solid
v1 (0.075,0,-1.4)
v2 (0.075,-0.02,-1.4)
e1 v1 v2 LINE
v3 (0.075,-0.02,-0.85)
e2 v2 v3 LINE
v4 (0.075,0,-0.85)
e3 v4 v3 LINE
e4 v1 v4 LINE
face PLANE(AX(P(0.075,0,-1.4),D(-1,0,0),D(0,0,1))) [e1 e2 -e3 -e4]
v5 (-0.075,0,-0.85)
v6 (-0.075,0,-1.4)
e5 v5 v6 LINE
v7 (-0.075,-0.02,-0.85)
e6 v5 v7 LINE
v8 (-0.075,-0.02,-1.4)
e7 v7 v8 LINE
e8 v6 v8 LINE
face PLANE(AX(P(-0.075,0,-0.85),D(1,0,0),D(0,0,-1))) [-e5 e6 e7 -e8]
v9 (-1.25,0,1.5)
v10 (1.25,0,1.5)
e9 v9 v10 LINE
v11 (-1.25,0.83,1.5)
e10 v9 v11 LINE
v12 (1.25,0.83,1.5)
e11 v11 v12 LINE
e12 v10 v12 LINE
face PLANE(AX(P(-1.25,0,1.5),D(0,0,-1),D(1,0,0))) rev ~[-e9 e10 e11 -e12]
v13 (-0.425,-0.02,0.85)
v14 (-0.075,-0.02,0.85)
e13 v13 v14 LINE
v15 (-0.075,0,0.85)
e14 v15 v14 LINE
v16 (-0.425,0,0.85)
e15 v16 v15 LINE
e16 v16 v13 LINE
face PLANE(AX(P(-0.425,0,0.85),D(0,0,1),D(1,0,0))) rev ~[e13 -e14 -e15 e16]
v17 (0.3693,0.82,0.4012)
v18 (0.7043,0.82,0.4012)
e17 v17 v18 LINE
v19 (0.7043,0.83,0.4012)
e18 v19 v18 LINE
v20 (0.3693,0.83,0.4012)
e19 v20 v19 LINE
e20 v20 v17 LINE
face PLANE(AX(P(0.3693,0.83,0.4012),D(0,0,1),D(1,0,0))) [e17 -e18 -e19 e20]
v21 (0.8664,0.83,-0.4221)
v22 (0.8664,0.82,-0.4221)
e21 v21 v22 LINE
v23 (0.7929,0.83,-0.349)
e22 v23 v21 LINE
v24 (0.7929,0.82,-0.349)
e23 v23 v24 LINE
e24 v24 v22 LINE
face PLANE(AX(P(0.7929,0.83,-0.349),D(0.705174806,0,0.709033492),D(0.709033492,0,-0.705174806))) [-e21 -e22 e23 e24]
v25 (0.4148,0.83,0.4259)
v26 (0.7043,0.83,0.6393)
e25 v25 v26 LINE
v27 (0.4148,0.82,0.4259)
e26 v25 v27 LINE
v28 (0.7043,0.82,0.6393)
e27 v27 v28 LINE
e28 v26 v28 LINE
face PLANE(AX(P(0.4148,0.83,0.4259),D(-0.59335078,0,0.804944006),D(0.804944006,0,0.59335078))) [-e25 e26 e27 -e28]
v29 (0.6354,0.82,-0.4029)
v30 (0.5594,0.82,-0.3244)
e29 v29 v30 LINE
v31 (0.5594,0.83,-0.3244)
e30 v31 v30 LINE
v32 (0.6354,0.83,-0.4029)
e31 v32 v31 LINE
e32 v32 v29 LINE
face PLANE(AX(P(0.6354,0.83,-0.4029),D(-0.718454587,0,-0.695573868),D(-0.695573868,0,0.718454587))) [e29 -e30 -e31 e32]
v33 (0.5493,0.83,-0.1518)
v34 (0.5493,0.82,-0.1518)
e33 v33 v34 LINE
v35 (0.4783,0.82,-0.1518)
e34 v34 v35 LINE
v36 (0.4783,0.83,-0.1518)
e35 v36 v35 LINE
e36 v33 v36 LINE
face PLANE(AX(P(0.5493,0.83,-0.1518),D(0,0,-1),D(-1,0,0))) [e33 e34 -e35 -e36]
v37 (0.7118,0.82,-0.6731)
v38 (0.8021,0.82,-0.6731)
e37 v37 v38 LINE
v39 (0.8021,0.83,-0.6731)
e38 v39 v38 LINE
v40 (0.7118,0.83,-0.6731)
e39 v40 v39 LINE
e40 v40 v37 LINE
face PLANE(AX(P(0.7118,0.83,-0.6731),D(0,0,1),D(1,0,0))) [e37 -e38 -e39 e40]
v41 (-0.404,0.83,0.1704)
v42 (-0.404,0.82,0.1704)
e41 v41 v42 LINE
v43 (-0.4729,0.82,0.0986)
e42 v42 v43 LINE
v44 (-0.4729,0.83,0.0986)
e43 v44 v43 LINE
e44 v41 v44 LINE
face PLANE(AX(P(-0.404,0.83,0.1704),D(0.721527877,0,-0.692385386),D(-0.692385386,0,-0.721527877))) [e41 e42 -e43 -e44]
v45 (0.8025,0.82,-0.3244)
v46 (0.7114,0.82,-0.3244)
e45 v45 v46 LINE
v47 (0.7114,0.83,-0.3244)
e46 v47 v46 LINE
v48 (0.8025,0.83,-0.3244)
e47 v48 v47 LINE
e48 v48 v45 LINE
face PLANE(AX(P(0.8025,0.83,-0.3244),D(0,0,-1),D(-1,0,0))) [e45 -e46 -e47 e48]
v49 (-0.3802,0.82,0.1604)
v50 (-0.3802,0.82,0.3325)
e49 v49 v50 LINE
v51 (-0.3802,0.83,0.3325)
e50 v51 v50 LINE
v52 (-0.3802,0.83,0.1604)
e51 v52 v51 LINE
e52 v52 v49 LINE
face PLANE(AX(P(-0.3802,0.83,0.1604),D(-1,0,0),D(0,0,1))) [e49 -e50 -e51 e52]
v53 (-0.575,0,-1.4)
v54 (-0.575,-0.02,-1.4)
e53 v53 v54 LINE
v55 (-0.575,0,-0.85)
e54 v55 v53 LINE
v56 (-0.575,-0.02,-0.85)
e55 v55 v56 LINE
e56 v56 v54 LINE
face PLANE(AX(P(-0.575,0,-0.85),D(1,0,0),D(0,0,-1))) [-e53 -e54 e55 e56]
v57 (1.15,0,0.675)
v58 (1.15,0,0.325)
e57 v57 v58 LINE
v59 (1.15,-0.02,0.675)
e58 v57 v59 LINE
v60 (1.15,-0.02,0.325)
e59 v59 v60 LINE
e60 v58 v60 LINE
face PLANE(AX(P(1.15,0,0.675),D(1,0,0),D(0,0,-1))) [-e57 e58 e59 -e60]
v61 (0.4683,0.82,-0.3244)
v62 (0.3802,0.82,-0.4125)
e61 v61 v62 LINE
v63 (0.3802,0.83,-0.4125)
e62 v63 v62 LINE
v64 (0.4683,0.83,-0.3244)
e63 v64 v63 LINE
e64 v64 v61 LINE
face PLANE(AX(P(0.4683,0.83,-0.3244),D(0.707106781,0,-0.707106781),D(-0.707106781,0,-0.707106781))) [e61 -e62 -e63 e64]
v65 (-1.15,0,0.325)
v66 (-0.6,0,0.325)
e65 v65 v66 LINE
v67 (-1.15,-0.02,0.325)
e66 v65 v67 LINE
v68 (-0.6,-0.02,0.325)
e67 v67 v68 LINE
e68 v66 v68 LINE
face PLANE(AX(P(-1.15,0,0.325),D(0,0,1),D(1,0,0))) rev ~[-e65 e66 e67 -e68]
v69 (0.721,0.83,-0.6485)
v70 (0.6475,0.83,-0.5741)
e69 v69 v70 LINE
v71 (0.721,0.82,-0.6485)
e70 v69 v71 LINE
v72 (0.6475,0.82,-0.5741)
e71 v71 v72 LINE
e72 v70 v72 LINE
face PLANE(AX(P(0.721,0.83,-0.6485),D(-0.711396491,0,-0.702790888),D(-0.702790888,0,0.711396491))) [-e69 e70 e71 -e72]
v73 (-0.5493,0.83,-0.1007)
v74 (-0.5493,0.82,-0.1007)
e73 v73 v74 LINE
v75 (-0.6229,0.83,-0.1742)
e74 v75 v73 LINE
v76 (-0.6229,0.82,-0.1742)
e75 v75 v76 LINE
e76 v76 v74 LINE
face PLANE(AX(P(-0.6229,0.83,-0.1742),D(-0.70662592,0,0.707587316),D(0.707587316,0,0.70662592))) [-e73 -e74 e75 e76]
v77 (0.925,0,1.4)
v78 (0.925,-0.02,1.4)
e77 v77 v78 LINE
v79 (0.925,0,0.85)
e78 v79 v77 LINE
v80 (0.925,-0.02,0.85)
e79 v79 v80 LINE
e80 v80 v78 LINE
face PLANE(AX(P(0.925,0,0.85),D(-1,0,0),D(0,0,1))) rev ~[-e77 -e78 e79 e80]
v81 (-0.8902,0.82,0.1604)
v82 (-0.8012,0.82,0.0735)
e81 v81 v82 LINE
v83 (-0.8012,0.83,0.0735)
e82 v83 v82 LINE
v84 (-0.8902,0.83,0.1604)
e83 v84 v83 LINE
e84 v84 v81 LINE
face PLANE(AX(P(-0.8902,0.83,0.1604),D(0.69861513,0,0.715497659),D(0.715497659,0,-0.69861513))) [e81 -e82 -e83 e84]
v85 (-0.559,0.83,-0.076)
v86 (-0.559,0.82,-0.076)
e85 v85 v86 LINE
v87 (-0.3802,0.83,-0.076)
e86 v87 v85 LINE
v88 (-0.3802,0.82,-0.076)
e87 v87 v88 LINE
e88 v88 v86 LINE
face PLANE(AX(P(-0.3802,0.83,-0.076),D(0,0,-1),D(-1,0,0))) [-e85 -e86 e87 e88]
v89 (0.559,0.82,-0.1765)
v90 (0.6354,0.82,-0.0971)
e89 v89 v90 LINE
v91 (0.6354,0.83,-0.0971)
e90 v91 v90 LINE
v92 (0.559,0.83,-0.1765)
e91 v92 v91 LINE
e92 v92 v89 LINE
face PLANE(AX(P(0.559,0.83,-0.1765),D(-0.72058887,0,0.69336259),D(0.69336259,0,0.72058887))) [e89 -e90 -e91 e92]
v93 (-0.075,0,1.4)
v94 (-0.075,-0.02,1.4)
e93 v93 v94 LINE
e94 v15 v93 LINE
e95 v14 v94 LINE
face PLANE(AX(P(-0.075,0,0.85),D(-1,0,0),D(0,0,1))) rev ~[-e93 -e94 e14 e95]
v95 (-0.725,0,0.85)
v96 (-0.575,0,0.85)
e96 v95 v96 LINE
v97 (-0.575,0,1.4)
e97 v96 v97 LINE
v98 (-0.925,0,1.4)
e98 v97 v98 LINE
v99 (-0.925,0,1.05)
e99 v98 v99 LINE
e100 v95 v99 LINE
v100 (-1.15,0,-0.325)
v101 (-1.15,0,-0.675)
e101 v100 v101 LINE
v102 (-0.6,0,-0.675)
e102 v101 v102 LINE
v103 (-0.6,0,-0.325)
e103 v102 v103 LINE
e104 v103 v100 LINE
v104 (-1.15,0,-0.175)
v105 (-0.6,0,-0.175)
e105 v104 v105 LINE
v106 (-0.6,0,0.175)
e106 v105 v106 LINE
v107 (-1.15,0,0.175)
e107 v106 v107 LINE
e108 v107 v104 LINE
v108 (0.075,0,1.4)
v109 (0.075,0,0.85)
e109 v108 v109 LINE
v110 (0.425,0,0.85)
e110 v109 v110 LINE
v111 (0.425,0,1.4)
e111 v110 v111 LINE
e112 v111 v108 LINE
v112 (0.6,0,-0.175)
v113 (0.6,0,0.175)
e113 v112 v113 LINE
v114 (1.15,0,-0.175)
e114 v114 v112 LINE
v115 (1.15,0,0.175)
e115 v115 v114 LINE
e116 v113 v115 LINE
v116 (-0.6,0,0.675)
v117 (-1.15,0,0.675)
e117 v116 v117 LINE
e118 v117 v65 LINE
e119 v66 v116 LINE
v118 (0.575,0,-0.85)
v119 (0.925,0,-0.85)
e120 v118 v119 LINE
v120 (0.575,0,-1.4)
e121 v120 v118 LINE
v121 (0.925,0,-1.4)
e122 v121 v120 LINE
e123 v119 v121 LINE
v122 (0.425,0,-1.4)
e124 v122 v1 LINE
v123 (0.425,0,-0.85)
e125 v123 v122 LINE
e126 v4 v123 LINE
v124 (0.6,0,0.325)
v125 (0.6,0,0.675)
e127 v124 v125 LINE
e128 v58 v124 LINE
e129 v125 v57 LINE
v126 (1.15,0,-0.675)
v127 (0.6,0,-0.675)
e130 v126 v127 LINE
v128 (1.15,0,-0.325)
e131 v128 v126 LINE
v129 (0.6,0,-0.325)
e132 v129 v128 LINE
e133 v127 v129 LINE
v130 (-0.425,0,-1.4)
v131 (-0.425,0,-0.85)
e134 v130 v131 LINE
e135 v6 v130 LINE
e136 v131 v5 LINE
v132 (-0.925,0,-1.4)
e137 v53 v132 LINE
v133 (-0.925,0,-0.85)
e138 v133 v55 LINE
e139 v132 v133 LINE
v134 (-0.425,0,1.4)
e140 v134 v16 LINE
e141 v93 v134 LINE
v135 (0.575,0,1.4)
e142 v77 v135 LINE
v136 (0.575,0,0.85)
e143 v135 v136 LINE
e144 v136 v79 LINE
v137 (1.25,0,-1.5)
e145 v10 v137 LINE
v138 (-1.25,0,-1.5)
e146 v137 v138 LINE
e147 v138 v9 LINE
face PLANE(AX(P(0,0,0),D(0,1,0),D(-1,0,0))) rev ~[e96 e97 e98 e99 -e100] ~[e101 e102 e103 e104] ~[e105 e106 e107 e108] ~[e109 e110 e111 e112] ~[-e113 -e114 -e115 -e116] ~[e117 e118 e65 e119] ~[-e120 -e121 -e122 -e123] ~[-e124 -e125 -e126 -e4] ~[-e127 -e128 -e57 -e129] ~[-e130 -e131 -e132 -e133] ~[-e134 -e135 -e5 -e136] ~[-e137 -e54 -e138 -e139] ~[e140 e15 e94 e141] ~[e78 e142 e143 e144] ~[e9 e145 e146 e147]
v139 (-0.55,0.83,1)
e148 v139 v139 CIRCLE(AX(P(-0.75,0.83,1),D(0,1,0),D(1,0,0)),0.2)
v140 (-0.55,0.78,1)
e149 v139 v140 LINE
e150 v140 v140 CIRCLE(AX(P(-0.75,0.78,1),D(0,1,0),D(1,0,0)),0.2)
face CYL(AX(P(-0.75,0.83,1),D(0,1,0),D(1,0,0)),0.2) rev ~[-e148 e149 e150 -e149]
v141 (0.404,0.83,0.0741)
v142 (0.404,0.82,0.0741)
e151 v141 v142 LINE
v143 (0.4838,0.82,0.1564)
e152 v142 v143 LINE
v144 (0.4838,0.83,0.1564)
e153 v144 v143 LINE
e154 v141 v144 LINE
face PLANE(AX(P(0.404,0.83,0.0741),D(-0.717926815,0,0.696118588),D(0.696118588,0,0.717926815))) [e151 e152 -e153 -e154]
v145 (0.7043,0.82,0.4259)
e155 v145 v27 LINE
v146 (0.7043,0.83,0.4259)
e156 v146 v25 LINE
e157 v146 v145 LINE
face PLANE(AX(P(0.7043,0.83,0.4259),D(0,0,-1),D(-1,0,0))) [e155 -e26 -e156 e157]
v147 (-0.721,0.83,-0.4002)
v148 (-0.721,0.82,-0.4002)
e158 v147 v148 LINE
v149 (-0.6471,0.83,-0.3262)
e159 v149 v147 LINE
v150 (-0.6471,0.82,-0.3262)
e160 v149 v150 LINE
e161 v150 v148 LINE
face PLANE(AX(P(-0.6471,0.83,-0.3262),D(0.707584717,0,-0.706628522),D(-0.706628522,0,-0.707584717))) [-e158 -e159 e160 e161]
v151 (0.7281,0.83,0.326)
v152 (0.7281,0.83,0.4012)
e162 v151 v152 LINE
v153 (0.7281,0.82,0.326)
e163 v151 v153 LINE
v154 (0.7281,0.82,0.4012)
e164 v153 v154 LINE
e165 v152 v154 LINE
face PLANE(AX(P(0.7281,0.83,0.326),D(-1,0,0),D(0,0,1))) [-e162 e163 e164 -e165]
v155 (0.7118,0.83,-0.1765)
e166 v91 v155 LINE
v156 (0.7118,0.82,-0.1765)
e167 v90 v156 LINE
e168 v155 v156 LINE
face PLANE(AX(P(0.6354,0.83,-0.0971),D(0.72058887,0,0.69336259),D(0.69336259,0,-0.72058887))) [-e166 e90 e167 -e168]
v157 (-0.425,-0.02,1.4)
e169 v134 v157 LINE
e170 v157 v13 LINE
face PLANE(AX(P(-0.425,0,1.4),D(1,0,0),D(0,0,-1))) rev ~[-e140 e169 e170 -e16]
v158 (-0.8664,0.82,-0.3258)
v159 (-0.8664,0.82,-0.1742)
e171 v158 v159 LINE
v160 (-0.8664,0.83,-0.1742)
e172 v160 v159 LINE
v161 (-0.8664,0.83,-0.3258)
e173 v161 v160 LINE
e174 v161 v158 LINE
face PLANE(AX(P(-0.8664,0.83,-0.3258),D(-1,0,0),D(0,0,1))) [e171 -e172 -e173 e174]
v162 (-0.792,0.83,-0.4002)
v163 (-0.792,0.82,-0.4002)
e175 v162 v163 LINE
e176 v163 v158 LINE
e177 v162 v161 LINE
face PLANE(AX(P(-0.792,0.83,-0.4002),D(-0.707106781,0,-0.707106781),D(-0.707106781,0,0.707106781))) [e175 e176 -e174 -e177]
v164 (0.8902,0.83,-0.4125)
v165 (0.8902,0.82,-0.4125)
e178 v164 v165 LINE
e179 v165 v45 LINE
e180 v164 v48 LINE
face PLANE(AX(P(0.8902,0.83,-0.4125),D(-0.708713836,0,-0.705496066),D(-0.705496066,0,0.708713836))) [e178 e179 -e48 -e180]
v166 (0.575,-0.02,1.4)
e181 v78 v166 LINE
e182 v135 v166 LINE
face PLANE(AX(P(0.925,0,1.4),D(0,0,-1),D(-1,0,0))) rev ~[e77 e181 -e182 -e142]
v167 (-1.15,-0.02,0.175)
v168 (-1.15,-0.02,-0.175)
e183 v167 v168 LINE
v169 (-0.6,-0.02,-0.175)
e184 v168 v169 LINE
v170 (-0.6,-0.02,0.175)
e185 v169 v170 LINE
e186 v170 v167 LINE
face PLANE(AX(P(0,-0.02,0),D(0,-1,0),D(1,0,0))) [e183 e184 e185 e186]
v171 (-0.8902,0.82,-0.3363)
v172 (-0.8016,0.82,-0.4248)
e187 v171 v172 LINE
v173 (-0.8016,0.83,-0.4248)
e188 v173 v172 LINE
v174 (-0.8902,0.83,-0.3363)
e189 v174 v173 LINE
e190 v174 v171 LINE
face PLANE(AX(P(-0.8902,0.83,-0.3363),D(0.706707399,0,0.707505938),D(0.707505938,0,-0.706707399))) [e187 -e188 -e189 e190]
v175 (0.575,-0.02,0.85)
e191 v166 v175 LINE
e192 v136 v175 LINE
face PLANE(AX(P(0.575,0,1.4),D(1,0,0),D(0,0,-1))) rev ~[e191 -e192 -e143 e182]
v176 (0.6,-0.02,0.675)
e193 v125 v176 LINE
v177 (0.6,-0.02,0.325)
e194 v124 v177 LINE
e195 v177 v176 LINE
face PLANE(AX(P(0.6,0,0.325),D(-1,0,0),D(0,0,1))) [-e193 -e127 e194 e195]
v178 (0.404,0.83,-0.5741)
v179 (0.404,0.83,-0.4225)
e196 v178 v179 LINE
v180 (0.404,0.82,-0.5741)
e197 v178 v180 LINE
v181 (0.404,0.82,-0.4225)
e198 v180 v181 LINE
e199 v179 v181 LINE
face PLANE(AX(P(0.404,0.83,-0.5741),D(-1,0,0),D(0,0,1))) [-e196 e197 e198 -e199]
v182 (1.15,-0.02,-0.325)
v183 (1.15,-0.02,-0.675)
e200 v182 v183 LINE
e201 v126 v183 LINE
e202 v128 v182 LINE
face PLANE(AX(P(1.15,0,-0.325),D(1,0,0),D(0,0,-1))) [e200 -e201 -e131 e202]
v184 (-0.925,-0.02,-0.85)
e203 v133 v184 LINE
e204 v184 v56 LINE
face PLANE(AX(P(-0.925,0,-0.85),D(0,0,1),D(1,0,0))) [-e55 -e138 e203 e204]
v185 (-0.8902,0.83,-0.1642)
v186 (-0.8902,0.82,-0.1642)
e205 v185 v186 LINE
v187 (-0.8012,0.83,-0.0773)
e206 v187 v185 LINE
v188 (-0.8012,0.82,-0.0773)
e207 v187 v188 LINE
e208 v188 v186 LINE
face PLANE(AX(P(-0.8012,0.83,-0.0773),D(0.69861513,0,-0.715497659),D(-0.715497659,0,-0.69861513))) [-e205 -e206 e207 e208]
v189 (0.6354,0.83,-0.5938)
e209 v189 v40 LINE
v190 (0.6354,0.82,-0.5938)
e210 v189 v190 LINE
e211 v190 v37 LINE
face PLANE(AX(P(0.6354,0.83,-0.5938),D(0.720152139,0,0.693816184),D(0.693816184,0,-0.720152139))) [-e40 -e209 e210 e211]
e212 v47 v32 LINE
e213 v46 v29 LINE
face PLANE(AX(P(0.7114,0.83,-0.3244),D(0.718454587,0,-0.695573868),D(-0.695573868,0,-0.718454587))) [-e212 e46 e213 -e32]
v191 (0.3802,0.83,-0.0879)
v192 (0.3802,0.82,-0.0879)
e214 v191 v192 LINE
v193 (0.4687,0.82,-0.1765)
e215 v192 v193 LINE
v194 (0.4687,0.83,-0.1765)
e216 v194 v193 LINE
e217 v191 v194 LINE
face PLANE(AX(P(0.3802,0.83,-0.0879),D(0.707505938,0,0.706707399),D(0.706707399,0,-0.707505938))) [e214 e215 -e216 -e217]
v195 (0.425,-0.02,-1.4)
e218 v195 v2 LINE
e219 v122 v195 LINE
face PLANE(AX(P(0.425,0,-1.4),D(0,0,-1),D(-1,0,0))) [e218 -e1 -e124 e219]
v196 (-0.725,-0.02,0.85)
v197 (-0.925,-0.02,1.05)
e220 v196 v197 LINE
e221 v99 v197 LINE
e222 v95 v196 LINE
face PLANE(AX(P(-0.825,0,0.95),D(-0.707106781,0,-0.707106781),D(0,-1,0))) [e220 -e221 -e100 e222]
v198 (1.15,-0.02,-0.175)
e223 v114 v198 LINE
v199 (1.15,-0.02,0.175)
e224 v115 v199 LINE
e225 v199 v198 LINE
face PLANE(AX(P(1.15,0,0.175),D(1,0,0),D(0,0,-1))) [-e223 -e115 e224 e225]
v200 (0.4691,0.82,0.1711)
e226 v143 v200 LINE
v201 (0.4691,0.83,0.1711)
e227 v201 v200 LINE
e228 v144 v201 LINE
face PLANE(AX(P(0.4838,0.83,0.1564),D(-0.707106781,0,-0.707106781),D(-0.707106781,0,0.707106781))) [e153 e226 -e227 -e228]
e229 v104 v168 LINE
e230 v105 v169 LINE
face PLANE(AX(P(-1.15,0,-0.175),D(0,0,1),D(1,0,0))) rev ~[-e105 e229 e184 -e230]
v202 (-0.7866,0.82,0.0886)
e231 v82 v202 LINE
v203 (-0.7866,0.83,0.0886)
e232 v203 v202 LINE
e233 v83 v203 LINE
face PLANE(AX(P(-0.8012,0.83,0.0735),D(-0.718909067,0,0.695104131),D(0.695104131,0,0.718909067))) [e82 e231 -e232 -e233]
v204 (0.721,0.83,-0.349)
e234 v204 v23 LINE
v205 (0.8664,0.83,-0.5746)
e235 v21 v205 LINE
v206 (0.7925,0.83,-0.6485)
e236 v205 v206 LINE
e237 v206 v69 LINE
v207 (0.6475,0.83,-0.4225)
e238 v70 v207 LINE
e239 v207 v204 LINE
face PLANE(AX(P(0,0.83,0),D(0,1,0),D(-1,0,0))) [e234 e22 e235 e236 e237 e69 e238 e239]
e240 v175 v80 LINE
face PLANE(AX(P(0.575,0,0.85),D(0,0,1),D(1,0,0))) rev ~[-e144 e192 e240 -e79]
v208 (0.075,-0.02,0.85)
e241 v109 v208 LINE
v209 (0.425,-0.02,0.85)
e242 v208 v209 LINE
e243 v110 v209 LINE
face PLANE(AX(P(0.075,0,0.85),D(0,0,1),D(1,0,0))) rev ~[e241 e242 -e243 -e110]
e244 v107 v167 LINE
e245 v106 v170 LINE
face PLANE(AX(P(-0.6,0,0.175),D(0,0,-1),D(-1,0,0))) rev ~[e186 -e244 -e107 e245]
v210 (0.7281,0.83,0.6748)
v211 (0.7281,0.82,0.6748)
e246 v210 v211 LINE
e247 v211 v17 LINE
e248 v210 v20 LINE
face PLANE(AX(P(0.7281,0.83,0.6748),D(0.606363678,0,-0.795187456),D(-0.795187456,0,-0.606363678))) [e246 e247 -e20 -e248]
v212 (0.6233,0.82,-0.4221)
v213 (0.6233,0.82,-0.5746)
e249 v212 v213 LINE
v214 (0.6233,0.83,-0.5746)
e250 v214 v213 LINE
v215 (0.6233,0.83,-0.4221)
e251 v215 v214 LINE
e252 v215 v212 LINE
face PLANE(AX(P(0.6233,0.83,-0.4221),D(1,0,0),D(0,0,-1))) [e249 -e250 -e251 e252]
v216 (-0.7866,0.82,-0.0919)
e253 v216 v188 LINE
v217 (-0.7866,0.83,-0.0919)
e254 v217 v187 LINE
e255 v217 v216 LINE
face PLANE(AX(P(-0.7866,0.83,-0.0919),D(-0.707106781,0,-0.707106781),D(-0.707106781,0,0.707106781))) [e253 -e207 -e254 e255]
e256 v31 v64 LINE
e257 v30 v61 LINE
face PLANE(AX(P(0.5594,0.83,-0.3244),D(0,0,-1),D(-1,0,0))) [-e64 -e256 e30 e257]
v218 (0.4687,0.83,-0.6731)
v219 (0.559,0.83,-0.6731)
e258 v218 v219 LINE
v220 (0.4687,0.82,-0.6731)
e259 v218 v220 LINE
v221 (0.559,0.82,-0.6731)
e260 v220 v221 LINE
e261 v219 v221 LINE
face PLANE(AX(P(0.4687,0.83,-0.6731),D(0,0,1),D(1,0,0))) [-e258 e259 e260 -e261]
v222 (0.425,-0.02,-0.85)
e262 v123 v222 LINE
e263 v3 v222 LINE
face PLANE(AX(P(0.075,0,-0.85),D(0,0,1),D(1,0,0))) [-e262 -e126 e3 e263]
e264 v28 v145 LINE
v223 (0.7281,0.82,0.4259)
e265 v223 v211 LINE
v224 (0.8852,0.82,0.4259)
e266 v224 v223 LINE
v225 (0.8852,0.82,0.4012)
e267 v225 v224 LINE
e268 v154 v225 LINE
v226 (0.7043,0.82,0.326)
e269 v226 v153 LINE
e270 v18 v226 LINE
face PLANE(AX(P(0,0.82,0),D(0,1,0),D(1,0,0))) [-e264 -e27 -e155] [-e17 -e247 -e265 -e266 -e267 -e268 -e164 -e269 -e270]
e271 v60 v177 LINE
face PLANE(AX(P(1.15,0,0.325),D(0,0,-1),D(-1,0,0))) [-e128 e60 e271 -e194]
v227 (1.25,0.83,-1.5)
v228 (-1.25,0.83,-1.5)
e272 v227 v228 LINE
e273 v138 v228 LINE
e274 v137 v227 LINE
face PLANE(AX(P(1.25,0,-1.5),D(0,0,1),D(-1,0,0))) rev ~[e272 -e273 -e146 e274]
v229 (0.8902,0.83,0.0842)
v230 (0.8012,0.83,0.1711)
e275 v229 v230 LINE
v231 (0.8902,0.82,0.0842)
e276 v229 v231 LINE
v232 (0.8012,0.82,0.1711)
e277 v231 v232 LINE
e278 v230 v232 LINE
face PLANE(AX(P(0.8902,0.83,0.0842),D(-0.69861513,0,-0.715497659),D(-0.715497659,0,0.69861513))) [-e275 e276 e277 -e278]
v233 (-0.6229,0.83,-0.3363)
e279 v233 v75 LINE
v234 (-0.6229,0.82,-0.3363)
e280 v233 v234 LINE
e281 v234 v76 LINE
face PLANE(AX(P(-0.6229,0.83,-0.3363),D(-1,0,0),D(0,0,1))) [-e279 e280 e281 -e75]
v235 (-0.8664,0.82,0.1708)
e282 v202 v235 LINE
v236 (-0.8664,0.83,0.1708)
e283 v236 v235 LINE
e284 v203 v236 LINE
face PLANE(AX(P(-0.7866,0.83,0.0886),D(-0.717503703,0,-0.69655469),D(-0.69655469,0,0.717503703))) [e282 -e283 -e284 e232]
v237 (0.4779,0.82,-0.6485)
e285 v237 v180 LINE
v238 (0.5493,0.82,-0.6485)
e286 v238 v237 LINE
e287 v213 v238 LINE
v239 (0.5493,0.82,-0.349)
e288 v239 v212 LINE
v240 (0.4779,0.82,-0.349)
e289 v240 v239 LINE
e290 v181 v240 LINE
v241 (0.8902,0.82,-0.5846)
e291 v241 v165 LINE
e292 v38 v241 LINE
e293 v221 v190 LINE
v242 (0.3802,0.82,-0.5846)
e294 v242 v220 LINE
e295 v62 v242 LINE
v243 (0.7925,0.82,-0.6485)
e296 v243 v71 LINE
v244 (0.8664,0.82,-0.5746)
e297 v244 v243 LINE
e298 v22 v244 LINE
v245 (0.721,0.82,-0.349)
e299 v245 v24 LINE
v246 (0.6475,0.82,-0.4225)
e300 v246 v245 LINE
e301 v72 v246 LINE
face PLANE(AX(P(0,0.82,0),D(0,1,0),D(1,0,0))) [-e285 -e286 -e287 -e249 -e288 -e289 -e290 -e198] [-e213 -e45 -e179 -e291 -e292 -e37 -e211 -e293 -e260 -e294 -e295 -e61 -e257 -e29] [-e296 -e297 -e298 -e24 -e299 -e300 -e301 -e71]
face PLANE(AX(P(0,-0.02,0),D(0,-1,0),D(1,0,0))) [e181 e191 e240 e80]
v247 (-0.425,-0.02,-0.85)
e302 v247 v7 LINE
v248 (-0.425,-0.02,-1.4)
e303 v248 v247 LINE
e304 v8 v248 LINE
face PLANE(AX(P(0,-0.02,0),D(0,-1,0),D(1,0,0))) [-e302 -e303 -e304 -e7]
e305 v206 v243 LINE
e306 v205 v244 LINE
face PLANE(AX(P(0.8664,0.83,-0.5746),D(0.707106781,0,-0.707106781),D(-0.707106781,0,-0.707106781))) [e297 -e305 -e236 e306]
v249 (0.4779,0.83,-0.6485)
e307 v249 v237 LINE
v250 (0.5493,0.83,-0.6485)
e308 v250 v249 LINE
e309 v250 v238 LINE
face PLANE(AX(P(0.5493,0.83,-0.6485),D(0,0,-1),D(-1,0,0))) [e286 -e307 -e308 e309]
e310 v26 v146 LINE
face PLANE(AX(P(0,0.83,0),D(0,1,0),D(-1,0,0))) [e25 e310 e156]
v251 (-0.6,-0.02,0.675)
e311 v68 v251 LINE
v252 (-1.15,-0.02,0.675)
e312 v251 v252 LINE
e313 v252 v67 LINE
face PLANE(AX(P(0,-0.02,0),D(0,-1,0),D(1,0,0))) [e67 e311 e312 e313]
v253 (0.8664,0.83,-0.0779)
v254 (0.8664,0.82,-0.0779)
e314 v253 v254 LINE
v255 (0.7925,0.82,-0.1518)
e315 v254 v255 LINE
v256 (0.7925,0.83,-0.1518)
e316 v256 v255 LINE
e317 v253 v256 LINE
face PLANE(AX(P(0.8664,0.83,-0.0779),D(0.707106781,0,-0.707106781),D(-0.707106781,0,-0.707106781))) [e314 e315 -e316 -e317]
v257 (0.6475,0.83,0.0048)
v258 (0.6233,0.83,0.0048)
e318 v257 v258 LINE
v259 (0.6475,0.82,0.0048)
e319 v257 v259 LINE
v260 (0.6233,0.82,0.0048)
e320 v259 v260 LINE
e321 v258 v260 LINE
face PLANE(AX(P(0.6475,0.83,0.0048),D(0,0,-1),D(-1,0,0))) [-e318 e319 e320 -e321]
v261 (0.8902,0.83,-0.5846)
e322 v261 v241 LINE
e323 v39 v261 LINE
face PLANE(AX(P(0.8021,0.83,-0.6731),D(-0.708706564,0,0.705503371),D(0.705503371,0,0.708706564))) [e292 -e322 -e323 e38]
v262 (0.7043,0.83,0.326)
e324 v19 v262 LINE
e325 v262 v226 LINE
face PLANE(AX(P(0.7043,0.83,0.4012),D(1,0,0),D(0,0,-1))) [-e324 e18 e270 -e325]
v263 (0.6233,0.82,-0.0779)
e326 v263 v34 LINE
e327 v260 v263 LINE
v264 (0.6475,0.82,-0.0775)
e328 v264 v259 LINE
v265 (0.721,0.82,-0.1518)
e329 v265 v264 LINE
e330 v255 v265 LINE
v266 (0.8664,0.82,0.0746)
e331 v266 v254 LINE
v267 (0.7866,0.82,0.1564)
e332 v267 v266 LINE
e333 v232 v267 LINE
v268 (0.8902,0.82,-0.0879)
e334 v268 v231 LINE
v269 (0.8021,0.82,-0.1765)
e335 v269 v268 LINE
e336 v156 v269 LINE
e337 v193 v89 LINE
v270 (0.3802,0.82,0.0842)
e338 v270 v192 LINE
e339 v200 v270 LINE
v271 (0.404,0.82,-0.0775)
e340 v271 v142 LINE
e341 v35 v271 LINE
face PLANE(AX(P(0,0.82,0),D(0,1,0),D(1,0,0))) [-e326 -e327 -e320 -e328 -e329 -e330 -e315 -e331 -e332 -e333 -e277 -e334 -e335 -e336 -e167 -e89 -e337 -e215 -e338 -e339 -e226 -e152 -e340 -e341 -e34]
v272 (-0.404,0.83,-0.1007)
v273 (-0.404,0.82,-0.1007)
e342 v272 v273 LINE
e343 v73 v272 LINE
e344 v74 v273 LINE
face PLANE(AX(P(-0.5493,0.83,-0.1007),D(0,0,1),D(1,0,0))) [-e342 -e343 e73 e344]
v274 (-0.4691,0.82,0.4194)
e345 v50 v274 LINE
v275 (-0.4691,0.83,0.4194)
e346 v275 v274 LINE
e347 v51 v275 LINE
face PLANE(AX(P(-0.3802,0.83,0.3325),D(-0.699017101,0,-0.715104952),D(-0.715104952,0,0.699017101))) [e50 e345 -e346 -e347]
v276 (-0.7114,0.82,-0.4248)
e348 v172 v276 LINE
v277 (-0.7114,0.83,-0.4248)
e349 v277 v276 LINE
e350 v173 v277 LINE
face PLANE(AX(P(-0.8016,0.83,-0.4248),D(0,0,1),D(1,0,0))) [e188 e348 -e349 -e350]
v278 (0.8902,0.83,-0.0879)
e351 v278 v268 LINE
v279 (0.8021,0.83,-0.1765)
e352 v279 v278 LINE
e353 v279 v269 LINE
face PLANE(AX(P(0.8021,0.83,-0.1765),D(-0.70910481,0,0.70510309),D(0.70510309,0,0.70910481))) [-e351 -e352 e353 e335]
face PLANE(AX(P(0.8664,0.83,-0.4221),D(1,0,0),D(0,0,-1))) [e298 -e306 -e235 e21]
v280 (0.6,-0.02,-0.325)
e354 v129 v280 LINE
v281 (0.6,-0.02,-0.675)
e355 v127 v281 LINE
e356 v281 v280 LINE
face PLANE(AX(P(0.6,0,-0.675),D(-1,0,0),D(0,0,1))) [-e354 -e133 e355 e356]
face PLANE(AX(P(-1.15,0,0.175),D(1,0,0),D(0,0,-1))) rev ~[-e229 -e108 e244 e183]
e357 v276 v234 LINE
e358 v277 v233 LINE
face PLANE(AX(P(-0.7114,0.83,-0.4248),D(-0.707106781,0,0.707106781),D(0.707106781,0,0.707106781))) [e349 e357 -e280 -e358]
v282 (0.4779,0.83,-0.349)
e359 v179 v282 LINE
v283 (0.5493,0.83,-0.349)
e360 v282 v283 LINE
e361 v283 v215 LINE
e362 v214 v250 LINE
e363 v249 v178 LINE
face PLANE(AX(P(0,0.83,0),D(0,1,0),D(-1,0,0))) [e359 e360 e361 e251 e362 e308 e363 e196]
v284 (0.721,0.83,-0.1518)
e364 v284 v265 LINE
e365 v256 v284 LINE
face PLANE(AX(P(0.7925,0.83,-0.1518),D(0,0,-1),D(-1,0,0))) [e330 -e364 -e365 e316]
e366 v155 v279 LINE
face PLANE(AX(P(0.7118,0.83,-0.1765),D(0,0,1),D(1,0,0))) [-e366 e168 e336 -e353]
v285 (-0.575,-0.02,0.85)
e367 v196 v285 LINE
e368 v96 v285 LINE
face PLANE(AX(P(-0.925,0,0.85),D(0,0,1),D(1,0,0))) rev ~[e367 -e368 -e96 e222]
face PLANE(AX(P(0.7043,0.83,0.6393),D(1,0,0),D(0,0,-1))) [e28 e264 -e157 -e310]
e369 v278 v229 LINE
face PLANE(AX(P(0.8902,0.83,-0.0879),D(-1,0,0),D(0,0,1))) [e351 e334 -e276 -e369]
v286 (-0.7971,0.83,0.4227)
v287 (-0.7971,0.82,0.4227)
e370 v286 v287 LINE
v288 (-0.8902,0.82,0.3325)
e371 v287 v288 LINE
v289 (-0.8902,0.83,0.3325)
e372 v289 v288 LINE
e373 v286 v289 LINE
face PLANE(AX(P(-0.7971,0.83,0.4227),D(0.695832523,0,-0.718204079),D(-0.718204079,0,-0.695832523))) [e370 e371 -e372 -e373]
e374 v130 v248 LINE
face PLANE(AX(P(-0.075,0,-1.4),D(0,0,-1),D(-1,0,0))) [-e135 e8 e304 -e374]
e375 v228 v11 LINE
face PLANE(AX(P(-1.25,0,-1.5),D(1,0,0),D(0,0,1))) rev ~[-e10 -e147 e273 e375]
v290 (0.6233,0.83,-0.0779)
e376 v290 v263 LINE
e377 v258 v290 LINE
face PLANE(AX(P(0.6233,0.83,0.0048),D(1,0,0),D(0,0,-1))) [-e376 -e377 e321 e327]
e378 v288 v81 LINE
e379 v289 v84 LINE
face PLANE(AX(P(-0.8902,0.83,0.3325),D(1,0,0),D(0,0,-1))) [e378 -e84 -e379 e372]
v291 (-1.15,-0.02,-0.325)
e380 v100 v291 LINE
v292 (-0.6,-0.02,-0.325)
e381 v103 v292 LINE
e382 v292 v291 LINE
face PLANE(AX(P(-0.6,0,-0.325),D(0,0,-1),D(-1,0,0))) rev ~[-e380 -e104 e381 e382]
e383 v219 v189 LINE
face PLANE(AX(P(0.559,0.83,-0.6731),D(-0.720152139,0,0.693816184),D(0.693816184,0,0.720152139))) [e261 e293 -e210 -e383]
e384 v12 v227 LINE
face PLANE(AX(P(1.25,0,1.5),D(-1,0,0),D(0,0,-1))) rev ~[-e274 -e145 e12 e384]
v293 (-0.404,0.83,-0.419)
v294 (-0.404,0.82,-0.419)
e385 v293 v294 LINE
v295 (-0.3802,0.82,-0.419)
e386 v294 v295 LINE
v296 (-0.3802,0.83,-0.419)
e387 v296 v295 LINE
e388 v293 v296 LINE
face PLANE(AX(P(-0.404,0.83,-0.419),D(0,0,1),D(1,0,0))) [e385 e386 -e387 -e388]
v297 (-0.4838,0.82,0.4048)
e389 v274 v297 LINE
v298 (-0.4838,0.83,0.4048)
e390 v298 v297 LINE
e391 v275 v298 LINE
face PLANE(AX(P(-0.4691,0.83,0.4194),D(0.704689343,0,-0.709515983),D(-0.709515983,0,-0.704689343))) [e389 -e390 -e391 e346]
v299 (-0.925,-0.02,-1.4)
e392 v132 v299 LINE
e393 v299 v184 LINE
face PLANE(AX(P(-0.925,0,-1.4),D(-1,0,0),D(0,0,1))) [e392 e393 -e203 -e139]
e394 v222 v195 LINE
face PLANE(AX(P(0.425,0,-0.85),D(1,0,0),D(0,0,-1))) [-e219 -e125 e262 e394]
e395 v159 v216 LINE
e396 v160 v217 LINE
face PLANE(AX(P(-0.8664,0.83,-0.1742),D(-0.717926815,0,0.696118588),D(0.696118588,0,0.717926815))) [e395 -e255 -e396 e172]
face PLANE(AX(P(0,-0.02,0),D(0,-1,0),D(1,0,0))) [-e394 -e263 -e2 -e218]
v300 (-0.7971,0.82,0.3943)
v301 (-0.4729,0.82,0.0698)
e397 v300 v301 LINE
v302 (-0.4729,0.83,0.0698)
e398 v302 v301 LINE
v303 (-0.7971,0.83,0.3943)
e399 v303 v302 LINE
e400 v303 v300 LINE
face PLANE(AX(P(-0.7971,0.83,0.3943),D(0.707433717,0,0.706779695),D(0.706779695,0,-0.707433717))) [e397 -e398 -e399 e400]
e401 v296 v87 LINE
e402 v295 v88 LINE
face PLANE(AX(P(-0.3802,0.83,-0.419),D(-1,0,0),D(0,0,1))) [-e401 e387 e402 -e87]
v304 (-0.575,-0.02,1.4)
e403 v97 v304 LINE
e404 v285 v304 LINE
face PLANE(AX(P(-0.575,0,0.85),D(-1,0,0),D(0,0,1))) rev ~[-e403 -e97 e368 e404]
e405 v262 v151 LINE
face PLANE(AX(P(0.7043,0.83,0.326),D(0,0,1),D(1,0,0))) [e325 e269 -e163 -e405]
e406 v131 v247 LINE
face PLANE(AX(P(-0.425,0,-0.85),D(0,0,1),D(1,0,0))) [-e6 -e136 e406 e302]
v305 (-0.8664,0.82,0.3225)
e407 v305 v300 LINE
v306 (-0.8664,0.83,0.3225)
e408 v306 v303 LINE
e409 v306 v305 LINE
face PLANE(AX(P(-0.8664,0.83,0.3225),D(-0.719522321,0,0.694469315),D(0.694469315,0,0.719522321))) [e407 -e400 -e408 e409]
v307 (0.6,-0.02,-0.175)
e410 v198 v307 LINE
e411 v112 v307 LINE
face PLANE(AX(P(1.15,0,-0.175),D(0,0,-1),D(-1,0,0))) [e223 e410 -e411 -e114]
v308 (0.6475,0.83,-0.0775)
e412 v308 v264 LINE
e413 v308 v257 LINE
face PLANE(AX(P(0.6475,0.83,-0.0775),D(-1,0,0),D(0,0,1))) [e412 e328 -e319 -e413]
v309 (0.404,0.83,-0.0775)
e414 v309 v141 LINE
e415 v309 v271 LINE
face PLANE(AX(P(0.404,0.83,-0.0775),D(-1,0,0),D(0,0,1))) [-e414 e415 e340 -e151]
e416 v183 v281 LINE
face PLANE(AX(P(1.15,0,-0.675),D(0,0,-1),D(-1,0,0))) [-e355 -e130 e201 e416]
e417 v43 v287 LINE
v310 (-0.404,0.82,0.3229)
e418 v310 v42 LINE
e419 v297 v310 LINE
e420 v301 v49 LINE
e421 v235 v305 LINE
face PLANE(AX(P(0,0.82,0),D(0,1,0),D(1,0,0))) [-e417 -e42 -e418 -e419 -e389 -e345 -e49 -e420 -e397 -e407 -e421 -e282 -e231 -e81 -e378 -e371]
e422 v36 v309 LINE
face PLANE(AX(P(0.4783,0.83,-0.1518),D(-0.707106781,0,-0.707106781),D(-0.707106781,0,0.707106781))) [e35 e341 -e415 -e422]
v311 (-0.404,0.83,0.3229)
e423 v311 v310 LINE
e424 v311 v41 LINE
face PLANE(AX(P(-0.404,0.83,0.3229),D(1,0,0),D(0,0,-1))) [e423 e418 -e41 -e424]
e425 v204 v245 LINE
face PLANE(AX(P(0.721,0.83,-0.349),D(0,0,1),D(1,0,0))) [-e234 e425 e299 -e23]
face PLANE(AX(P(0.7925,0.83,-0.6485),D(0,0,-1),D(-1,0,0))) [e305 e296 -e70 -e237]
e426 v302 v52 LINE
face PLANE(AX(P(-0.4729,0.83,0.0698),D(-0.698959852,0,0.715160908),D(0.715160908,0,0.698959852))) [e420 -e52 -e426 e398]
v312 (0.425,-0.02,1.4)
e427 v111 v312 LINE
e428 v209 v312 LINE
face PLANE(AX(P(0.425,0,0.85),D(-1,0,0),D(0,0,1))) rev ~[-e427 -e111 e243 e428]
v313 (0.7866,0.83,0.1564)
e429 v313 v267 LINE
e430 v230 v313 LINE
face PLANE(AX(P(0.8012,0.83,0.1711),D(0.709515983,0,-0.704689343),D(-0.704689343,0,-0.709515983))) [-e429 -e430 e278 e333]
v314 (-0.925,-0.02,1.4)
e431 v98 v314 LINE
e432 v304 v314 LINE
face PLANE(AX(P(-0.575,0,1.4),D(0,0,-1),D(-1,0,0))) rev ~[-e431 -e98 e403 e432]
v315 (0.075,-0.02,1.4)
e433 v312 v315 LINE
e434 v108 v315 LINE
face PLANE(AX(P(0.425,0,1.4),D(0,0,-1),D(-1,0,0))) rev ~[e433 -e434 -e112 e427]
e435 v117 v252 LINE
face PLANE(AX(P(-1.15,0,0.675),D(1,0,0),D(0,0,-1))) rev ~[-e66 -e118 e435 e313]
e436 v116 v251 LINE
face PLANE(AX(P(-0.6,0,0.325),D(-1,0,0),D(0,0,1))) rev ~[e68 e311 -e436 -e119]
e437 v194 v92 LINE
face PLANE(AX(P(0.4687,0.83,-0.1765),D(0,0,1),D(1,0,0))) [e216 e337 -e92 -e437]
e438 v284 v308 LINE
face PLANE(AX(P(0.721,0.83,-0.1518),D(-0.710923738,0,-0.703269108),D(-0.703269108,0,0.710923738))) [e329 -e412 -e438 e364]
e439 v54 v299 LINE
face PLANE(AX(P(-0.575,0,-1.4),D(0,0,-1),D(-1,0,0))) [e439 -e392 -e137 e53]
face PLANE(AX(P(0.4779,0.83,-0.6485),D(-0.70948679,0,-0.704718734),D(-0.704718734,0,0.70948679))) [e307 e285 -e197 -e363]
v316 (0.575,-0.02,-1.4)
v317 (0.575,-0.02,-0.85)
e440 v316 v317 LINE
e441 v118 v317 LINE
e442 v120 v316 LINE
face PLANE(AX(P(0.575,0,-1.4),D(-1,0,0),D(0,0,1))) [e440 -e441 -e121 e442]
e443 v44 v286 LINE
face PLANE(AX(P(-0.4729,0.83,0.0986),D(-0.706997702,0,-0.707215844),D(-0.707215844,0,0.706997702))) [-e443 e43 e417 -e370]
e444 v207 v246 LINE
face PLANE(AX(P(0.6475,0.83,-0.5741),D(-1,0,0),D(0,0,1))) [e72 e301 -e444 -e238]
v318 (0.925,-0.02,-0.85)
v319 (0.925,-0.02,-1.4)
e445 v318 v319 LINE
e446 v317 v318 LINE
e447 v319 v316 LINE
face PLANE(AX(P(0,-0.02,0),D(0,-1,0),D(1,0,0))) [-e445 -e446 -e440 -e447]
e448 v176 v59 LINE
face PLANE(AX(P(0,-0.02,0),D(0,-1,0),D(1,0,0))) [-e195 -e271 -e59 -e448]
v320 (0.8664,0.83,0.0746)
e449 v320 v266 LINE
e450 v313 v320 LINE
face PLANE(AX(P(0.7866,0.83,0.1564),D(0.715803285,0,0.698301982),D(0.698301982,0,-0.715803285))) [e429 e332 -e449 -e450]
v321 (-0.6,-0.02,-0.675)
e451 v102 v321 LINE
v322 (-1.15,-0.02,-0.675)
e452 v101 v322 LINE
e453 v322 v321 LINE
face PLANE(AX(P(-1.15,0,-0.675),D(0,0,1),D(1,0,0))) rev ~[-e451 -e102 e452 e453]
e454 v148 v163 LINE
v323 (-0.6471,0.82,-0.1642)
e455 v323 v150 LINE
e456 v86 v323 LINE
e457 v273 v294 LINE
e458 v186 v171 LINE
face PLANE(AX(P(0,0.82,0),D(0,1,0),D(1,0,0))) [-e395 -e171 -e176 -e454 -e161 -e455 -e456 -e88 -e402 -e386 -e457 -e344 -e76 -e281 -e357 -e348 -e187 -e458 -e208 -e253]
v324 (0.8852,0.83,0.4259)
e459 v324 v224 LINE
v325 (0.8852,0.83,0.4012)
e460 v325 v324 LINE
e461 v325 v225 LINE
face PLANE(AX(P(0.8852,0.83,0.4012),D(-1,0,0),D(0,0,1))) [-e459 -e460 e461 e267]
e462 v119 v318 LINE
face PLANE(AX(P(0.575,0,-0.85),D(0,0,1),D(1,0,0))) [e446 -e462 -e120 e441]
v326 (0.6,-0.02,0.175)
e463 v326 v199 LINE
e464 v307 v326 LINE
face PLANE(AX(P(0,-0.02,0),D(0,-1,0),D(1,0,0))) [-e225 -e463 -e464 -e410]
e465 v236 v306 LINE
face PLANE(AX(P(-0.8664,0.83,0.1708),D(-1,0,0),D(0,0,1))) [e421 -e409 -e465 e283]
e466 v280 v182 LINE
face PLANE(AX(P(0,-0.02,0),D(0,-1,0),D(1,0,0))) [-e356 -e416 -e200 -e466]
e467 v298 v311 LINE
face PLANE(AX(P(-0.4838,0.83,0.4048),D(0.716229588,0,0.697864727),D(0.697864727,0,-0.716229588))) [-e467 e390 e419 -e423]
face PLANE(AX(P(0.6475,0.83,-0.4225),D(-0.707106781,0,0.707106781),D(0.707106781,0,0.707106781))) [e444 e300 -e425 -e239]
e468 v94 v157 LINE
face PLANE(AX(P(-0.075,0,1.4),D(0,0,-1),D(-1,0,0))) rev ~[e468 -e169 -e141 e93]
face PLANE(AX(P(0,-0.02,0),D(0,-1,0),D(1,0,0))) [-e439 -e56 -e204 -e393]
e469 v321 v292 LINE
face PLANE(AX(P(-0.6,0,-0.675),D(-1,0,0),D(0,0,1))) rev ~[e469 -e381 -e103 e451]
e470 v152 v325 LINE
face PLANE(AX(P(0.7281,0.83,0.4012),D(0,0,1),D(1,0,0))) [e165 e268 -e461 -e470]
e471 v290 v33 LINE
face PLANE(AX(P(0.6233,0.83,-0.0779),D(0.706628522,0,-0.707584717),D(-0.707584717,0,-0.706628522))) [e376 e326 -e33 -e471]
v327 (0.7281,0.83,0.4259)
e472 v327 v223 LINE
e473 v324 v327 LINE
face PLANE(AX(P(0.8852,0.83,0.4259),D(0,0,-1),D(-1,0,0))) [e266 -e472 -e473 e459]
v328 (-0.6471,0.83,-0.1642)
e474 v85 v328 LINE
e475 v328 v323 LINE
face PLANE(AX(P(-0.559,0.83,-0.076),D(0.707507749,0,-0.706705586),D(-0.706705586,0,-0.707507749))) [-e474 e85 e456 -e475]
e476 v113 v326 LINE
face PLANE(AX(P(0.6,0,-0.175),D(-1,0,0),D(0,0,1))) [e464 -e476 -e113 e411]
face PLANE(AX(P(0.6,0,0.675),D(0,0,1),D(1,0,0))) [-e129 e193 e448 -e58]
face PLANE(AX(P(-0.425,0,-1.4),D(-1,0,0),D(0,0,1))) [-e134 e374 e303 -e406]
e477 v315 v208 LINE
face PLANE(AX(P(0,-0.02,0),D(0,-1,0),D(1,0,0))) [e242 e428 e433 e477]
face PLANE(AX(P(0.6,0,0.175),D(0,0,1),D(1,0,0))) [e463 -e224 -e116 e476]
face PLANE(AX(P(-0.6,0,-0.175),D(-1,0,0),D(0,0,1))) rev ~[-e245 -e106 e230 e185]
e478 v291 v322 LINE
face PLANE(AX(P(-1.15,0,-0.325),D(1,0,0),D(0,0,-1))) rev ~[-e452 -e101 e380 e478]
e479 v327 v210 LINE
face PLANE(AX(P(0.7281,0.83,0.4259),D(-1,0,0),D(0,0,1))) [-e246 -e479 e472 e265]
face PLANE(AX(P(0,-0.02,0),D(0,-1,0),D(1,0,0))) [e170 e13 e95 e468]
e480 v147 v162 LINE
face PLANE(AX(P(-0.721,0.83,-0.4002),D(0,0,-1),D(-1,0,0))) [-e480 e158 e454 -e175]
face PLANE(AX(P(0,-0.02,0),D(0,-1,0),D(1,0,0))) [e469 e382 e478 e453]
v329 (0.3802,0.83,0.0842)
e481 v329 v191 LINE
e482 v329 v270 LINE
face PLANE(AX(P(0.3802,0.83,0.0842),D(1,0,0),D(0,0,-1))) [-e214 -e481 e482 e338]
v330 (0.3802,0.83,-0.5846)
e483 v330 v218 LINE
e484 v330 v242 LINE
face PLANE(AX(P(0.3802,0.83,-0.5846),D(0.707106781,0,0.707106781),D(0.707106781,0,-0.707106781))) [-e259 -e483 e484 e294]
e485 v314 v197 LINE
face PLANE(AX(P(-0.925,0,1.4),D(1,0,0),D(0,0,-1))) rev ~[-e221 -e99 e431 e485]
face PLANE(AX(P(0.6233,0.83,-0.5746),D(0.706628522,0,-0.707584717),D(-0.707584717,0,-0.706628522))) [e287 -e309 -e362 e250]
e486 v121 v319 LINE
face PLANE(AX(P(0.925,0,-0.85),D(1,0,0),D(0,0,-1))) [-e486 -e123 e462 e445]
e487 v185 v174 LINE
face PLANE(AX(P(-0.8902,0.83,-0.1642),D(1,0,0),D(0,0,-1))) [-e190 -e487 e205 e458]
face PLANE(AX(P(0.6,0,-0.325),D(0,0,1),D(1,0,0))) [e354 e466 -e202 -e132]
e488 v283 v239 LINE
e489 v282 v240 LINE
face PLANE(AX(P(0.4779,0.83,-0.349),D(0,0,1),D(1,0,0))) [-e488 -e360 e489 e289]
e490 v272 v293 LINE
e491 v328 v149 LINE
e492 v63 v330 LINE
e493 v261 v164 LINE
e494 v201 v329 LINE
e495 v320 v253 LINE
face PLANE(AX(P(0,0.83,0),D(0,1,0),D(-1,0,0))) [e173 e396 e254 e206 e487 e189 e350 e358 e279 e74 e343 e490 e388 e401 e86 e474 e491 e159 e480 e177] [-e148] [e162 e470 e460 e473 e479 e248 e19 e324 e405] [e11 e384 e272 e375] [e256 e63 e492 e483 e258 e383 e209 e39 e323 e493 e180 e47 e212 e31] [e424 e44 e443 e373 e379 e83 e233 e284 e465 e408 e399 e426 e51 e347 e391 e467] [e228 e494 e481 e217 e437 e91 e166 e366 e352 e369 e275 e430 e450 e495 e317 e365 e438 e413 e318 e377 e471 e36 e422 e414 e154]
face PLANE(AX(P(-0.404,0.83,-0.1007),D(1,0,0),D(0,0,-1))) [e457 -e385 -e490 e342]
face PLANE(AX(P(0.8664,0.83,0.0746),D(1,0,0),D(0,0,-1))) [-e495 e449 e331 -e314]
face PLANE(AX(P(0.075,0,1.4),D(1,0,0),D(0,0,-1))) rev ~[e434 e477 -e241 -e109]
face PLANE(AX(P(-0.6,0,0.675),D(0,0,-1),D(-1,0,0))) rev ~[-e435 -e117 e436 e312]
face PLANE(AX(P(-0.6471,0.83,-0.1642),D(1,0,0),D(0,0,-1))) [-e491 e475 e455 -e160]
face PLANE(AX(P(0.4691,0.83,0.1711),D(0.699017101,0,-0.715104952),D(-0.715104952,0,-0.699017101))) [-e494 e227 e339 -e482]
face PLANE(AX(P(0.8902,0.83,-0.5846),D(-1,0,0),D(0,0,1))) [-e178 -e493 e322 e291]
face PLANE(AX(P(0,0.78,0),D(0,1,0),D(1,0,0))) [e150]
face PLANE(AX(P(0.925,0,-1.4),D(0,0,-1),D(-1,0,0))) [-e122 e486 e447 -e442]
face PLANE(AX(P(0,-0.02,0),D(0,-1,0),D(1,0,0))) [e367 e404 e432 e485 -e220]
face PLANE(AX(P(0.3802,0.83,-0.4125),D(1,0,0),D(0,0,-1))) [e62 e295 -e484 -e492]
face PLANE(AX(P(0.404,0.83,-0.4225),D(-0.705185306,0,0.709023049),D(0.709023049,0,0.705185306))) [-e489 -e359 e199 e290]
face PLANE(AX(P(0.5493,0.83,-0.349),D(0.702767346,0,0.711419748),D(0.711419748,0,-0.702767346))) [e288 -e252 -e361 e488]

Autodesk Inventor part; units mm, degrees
ref_plane "YZ Plane" through (0, 0, 0) normal (1, 0, 0) x (0, 1, 0)
ref_plane "XZ Plane" through (0, 0, 0) normal (0, 1, 0) x (-1, 0, 0)
ref_plane "XY Plane" through (0, 0, 0) normal (0, 0, 1) x (1, 0, 0)
sketch "Sketch10" plane through (0, 0, 0) normal (0, 1, 0) x (-1, 0, 0)
  line L0 (1.25, 1.5) -> (-1.25, 1.5)
  line L1 (-1.25, 1.5) -> (-1.25, -1.5)
  line L2 (-1.25, -1.5) -> (1.25, -1.5)
  line L3 (1.25, -1.5) -> (1.25, 1.5)
  point P0 (0, 0)
  point P1 (1.25, 0)
  point P2 (0, 1.5)
  dimension "d7" = 2.5
  dimension "d8" = 3
extrude "Extrusion4" add sketch "Sketch10" along normal blind 0.83
sketch "Sketch11" plane through (0, 0.83, 0) normal (0, 1, 0) x (1, 0, 0)
  line L0 (0.875, -0.5) -> (0.875, 0.5) construction
  line L1 (0.875, 0.5) -> (-0.875, 0.5) construction
  line L2 (-0.875, 0.5) -> (-0.875, -0.5) construction
  line L3 (-0.875, -0.5) -> (0.875, -0.5) construction
  line L4 (-1.25, -1.5) -> (1.25, -1.5) projected
  line L5 (1.25, -1.5) -> (1.25, 1.5) projected
  line L6 (1.25, 1.5) -> (-1.25, 1.5) projected
  line L7 (-1.25, 1.5) -> (-1.25, -1.5) projected
  circle A0 centre (-0.75, -1) radius 0.2
  line L8 (-0.4729, -0.0698) -> (-0.3802, -0.1604)
  line L9 (-0.3802, -0.1604) -> (-0.3802, -0.3325)
  line L10 (-0.3802, -0.3325) -> (-0.4691, -0.4194)
  line L11 (-0.4691, -0.4194) -> (-0.4838, -0.4048)
  line L12 (-0.4838, -0.4048) -> (-0.404, -0.3229)
  line L13 (-0.404, -0.3229) -> (-0.404, -0.1704)
  line L14 (-0.404, -0.1704) -> (-0.4729, -0.0986)
  line L15 (-0.4729, -0.0986) -> (-0.7971, -0.4227)
  line L16 (-0.7971, -0.4227) -> (-0.8902, -0.3325)
  line L17 (-0.8902, -0.3325) -> (-0.8902, -0.1604)
  line L18 (-0.8902, -0.1604) -> (-0.8012, -0.0735)
  line L19 (-0.8012, -0.0735) -> (-0.7866, -0.0886)
  line L20 (-0.7866, -0.0886) -> (-0.8664, -0.1708)
  line L21 (-0.8664, -0.1708) -> (-0.8664, -0.3225)
  line L22 (-0.8664, -0.3225) -> (-0.7971, -0.3943)
  line L23 (-0.7971, -0.3943) -> (-0.4729, -0.0698)
  line L24 (-0.7114, 0.4248) -> (-0.6229, 0.3363)
  line L25 (-0.6229, 0.3363) -> (-0.6229, 0.1742)
  line L26 (-0.6229, 0.1742) -> (-0.5493, 0.1007)
  line L27 (-0.5493, 0.1007) -> (-0.404, 0.1007)
  line L28 (-0.404, 0.1007) -> (-0.404, 0.419)
  line L29 (-0.404, 0.419) -> (-0.3802, 0.419)
  line L30 (-0.3802, 0.419) -> (-0.3802, 0.076)
  line L31 (-0.3802, 0.076) -> (-0.559, 0.076)
  line L32 (-0.559, 0.076) -> (-0.6471, 0.1642)
  line L33 (-0.6471, 0.1642) -> (-0.6471, 0.3262)
  line L34 (-0.6471, 0.3262) -> (-0.721, 0.4002)
  line L35 (-0.721, 0.4002) -> (-0.792, 0.4002)
  line L36 (-0.792, 0.4002) -> (-0.8664, 0.3258)
  line L37 (-0.8664, 0.3258) -> (-0.8664, 0.1742)
  line L38 (-0.8664, 0.1742) -> (-0.7866, 0.0919)
  line L39 (-0.7866, 0.0919) -> (-0.8012, 0.0773)
  line L40 (-0.8012, 0.0773) -> (-0.8902, 0.1642)
  line L41 (-0.8902, 0.1642) -> (-0.8902, 0.3363)
  line L42 (-0.8902, 0.3363) -> (-0.8016, 0.4248)
  line L43 (-0.8016, 0.4248) -> (-0.7114, 0.4248)
  line L44 (0.7281, -0.326) -> (0.7281, -0.4012)
  line L45 (0.7281, -0.4012) -> (0.8852, -0.4012)
  line L46 (0.8852, -0.4012) -> (0.8852, -0.4259)
  line L47 (0.8852, -0.4259) -> (0.7281, -0.4259)
  line L48 (0.7281, -0.4259) -> (0.7281, -0.6748)
  line L49 (0.7281, -0.6748) -> (0.3693, -0.4012)
  line L50 (0.3693, -0.4012) -> (0.7043, -0.4012)
  line L51 (0.7043, -0.4012) -> (0.7043, -0.326)
  line L52 (0.7043, -0.326) -> (0.7281, -0.326)
  line L53 (0.7043, -0.4259) -> (0.4148, -0.4259)
  line L54 (0.4148, -0.4259) -> (0.7043, -0.6393)
  line L55 (0.7043, -0.6393) -> (0.7043, -0.4259)
  line L56 (0.8021, 0.1765) -> (0.8902, 0.0879)
  line L57 (0.8902, 0.0879) -> (0.8902, -0.0842)
  line L58 (0.8902, -0.0842) -> (0.8012, -0.1711)
  line L59 (0.8012, -0.1711) -> (0.7866, -0.1564)
  line L60 (0.7866, -0.1564) -> (0.8664, -0.0746)
  line L61 (0.8664, -0.0746) -> (0.8664, 0.0779)
  line L62 (0.8664, 0.0779) -> (0.7925, 0.1518)
  line L63 (0.7925, 0.1518) -> (0.721, 0.1518)
  line L64 (0.721, 0.1518) -> (0.6475, 0.0775)
  line L65 (0.6475, 0.0775) -> (0.6475, -0.0048)
  line L66 (0.6475, -0.0048) -> (0.6233, -0.0048)
  line L67 (0.6233, -0.0048) -> (0.6233, 0.0779)
  line L68 (0.6233, 0.0779) -> (0.5493, 0.1518)
  line L69 (0.5493, 0.1518) -> (0.4783, 0.1518)
  line L70 (0.4783, 0.1518) -> (0.404, 0.0775)
  line L71 (0.404, 0.0775) -> (0.404, -0.0741)
  line L72 (0.404, -0.0741) -> (0.4838, -0.1564)
  line L73 (0.4838, -0.1564) -> (0.4691, -0.1711)
  line L74 (0.4691, -0.1711) -> (0.3802, -0.0842)
  line L75 (0.3802, -0.0842) -> (0.3802, 0.0879)
  line L76 (0.3802, 0.0879) -> (0.4687, 0.1765)
  line L77 (0.4687, 0.1765) -> (0.559, 0.1765)
  line L78 (0.559, 0.1765) -> (0.6354, 0.0971)
  line L79 (0.6354, 0.0971) -> (0.7118, 0.1765)
  line L80 (0.7118, 0.1765) -> (0.8021, 0.1765)
  line L81 (0.8021, 0.6731) -> (0.8902, 0.5846)
  line L82 (0.8902, 0.5846) -> (0.8902, 0.4125)
  line L83 (0.8902, 0.4125) -> (0.8025, 0.3244)
  line L84 (0.8025, 0.3244) -> (0.7114, 0.3244)
  line L85 (0.7114, 0.3244) -> (0.6354, 0.4029)
  line L86 (0.6354, 0.4029) -> (0.5594, 0.3244)
  line L87 (0.5594, 0.3244) -> (0.4683, 0.3244)
  line L88 (0.4683, 0.3244) -> (0.3802, 0.4125)
  line L89 (0.3802, 0.4125) -> (0.3802, 0.5846)
  line L90 (0.3802, 0.5846) -> (0.4687, 0.6731)
  line L91 (0.4687, 0.6731) -> (0.559, 0.6731)
  line L92 (0.559, 0.6731) -> (0.6354, 0.5938)
  line L93 (0.6354, 0.5938) -> (0.7118, 0.6731)
  line L94 (0.7118, 0.6731) -> (0.8021, 0.6731)
  line L95 (0.5493, 0.6485) -> (0.4779, 0.6485)
  line L96 (0.4779, 0.6485) -> (0.404, 0.5741)
  line L97 (0.404, 0.5741) -> (0.404, 0.4225)
  line L98 (0.404, 0.4225) -> (0.4779, 0.349)
  line L99 (0.4779, 0.349) -> (0.5493, 0.349)
  line L100 (0.5493, 0.349) -> (0.6233, 0.4221)
  line L101 (0.6233, 0.4221) -> (0.6233, 0.5746)
  line L102 (0.6233, 0.5746) -> (0.5493, 0.6485)
  line L103 (0.7925, 0.6485) -> (0.721, 0.6485)
  line L104 (0.721, 0.6485) -> (0.6475, 0.5741)
  line L105 (0.6475, 0.5741) -> (0.6475, 0.4225)
  line L106 (0.6475, 0.4225) -> (0.721, 0.349)
  line L107 (0.721, 0.349) -> (0.7929, 0.349)
  line L108 (0.7929, 0.349) -> (0.8664, 0.4221)
  line L109 (0.8664, 0.4221) -> (0.8664, 0.5746)
  line L110 (0.8664, 0.5746) -> (0.7925, 0.6485)
  point P0 (0, 0)
  point P1 (-0.875, 0)
  point P2 (-1.25, 0)
  point P3 (0, -0.5)
  point P4 (0, -1.5)
  dimension "d11" = 1.75
  dimension "d12" = 1
  dimension "d13" = 0.4
  dimension "d14" = 0.5
  dimension "d15" = 0.5
extrude "Extrusion5" cut sketch "Sketch11" against normal blind 0.01 contours L8 L9 L10 L11 L12 L13 L14 L15 L16 L17 L18 L19 L20 L21 L22 L23 | L24 L25 L26 L27 L28 L29 L30 L31 L32 L33 L34 L35 L36 L37 L38 L39 L40 L41 L42 L43 | L44 L45 L46 L47 L48 L49 L50 L51 L52 | L56 L57 L58 L59 L60 L61 L62 L63 L64 L65 L66 L67 L68 L69 L70 L71 L72 L73 L74 L75 L76 L77 L78 L79 L80 | L81 L82 L83 L84 L85 L86 L87 L88 L89 L90 L91 L92 L93 L94
extrude "Extrusion6" cut sketch "Sketch11" against normal blind 0.05 contours A0
sketch "Sketch12" plane through (0, 0, 0) normal (0, -1, 0) x (1, 0, 0)
  line L0 (-1.15, -0.675) -> (-0.6, -0.675)
  line L1 (-0.6, -0.675) -> (-0.6, -0.325)
  line L2 (-0.6, -0.325) -> (-1.15, -0.325)
  line L3 (-1.15, -0.325) -> (-1.15, -0.675)
  line L4 (-1.25, 1.5) -> (1.25, 1.5) construction
  line L5 (-1.25, -1.5) -> (-1.25, 1.5) construction
  line L6 (1.25, -1.5) -> (-1.25, -1.5) construction
  line L7 (1.25, 1.5) -> (1.25, -1.5) construction
  line L8 (-1.15, -0.175) -> (-0.6, -0.175)
  line L9 (-0.6, -0.175) -> (-0.6, 0.175)
  line L10 (-0.6, 0.175) -> (-1.15, 0.175)
  line L11 (-1.15, 0.175) -> (-1.15, -0.175)
  line L12 (-1.15, 0.325) -> (-0.6, 0.325)
  line L13 (-0.6, 0.325) -> (-0.6, 0.675)
  line L14 (-0.6, 0.675) -> (-1.15, 0.675)
  line L15 (-1.15, 0.675) -> (-1.15, 0.325)
  line L16 (-0.575, -1.4) -> (-0.925, -1.4)
  line L17 (-0.925, -1.4) -> (-0.925, -0.85)
  line L18 (-0.925, -0.85) -> (-0.575, -0.85)
  line L19 (-0.575, -0.85) -> (-0.575, -1.4)
  line L20 (-0.425, -1.4) -> (-0.425, -0.85)
  line L21 (-0.075, -1.4) -> (-0.425, -1.4)
  line L22 (-0.075, -0.85) -> (-0.075, -1.4)
  line L23 (-0.425, -0.85) -> (-0.075, -0.85)
  line L24 (0.075, -1.4) -> (0.075, -0.85)
  line L25 (0.425, -1.4) -> (0.075, -1.4)
  line L26 (0.425, -0.85) -> (0.425, -1.4)
  line L27 (0.075, -0.85) -> (0.425, -0.85)
  line L28 (0.575, -1.4) -> (0.575, -0.85)
  line L29 (0.925, -1.4) -> (0.575, -1.4)
  line L30 (0.925, -0.85) -> (0.925, -1.4)
  line L31 (0.575, -0.85) -> (0.925, -0.85)
  line L32 (-1.25, 0) -> (1.25, 0) construction
  line L33 (0, 1.5) -> (0, -1.5) construction
  line L34 (1.15, -0.675) -> (0.6, -0.675)
  line L35 (0.6, -0.675) -> (0.6, -0.325)
  line L36 (0.6, -0.325) -> (1.15, -0.325)
  line L37 (1.15, -0.325) -> (1.15, -0.675)
  line L38 (1.15, -0.175) -> (0.6, -0.175)
  line L39 (0.6, -0.175) -> (0.6, 0.175)
  line L40 (0.6, 0.175) -> (1.15, 0.175)
  line L41 (1.15, 0.175) -> (1.15, -0.175)
  line L42 (1.15, 0.325) -> (0.6, 0.325)
  line L43 (0.6, 0.325) -> (0.6, 0.675)
  line L44 (0.6, 0.675) -> (1.15, 0.675)
  line L45 (1.15, 0.675) -> (1.15, 0.325)
  line L46 (-0.575, 1.4) -> (-0.925, 1.4)
  line L47 (-0.925, 1.4) -> (-0.925, 0.85)
  line L48 (-0.925, 0.85) -> (-0.575, 0.85)
  line L49 (-0.575, 0.85) -> (-0.575, 1.4)
  line L50 (-0.425, 1.4) -> (-0.425, 0.85)
  line L51 (-0.075, 1.4) -> (-0.425, 1.4)
  line L52 (-0.075, 0.85) -> (-0.075, 1.4)
  line L53 (-0.425, 0.85) -> (-0.075, 0.85)
  line L54 (0.075, 1.4) -> (0.075, 0.85)
  line L55 (0.425, 1.4) -> (0.075, 1.4)
  line L56 (0.425, 0.85) -> (0.425, 1.4)
  line L57 (0.075, 0.85) -> (0.425, 0.85)
  line L58 (0.575, 1.4) -> (0.575, 0.85)
  line L59 (0.925, 1.4) -> (0.575, 1.4)
  line L60 (0.925, 0.85) -> (0.925, 1.4)
  line L61 (0.575, 0.85) -> (0.925, 0.85)
  line L62 (0.075, -0.85) -> (-0.075, -0.85) construction
  line L63 (-1.25, -1.5) -> (-1.25, 1.5) construction
  point P0 (0, 0)
  point P1 (-0.6, 0)
  point P2 (0, -0.85)
  dimension "d22" = 0.5
  dimension "d29" = 0.5
  dimension "d36" = 0.1
  dimension "d37" = 0.1
  dimension "d38" = 0.55
  dimension "d39" = 0.35
extrude "Extrusion7" add sketch "Sketch12" along normal blind 0.02
chamfer "Chamfer1" distance 0.2 angle 45 1 edges at (-0.925, -0.01, 0.85)
equation "\"d29\" = d22"
equation "\"d37\" = d36"
properties part number "LSM6DS3 Accelerometer" material "Silicon Nitride"
